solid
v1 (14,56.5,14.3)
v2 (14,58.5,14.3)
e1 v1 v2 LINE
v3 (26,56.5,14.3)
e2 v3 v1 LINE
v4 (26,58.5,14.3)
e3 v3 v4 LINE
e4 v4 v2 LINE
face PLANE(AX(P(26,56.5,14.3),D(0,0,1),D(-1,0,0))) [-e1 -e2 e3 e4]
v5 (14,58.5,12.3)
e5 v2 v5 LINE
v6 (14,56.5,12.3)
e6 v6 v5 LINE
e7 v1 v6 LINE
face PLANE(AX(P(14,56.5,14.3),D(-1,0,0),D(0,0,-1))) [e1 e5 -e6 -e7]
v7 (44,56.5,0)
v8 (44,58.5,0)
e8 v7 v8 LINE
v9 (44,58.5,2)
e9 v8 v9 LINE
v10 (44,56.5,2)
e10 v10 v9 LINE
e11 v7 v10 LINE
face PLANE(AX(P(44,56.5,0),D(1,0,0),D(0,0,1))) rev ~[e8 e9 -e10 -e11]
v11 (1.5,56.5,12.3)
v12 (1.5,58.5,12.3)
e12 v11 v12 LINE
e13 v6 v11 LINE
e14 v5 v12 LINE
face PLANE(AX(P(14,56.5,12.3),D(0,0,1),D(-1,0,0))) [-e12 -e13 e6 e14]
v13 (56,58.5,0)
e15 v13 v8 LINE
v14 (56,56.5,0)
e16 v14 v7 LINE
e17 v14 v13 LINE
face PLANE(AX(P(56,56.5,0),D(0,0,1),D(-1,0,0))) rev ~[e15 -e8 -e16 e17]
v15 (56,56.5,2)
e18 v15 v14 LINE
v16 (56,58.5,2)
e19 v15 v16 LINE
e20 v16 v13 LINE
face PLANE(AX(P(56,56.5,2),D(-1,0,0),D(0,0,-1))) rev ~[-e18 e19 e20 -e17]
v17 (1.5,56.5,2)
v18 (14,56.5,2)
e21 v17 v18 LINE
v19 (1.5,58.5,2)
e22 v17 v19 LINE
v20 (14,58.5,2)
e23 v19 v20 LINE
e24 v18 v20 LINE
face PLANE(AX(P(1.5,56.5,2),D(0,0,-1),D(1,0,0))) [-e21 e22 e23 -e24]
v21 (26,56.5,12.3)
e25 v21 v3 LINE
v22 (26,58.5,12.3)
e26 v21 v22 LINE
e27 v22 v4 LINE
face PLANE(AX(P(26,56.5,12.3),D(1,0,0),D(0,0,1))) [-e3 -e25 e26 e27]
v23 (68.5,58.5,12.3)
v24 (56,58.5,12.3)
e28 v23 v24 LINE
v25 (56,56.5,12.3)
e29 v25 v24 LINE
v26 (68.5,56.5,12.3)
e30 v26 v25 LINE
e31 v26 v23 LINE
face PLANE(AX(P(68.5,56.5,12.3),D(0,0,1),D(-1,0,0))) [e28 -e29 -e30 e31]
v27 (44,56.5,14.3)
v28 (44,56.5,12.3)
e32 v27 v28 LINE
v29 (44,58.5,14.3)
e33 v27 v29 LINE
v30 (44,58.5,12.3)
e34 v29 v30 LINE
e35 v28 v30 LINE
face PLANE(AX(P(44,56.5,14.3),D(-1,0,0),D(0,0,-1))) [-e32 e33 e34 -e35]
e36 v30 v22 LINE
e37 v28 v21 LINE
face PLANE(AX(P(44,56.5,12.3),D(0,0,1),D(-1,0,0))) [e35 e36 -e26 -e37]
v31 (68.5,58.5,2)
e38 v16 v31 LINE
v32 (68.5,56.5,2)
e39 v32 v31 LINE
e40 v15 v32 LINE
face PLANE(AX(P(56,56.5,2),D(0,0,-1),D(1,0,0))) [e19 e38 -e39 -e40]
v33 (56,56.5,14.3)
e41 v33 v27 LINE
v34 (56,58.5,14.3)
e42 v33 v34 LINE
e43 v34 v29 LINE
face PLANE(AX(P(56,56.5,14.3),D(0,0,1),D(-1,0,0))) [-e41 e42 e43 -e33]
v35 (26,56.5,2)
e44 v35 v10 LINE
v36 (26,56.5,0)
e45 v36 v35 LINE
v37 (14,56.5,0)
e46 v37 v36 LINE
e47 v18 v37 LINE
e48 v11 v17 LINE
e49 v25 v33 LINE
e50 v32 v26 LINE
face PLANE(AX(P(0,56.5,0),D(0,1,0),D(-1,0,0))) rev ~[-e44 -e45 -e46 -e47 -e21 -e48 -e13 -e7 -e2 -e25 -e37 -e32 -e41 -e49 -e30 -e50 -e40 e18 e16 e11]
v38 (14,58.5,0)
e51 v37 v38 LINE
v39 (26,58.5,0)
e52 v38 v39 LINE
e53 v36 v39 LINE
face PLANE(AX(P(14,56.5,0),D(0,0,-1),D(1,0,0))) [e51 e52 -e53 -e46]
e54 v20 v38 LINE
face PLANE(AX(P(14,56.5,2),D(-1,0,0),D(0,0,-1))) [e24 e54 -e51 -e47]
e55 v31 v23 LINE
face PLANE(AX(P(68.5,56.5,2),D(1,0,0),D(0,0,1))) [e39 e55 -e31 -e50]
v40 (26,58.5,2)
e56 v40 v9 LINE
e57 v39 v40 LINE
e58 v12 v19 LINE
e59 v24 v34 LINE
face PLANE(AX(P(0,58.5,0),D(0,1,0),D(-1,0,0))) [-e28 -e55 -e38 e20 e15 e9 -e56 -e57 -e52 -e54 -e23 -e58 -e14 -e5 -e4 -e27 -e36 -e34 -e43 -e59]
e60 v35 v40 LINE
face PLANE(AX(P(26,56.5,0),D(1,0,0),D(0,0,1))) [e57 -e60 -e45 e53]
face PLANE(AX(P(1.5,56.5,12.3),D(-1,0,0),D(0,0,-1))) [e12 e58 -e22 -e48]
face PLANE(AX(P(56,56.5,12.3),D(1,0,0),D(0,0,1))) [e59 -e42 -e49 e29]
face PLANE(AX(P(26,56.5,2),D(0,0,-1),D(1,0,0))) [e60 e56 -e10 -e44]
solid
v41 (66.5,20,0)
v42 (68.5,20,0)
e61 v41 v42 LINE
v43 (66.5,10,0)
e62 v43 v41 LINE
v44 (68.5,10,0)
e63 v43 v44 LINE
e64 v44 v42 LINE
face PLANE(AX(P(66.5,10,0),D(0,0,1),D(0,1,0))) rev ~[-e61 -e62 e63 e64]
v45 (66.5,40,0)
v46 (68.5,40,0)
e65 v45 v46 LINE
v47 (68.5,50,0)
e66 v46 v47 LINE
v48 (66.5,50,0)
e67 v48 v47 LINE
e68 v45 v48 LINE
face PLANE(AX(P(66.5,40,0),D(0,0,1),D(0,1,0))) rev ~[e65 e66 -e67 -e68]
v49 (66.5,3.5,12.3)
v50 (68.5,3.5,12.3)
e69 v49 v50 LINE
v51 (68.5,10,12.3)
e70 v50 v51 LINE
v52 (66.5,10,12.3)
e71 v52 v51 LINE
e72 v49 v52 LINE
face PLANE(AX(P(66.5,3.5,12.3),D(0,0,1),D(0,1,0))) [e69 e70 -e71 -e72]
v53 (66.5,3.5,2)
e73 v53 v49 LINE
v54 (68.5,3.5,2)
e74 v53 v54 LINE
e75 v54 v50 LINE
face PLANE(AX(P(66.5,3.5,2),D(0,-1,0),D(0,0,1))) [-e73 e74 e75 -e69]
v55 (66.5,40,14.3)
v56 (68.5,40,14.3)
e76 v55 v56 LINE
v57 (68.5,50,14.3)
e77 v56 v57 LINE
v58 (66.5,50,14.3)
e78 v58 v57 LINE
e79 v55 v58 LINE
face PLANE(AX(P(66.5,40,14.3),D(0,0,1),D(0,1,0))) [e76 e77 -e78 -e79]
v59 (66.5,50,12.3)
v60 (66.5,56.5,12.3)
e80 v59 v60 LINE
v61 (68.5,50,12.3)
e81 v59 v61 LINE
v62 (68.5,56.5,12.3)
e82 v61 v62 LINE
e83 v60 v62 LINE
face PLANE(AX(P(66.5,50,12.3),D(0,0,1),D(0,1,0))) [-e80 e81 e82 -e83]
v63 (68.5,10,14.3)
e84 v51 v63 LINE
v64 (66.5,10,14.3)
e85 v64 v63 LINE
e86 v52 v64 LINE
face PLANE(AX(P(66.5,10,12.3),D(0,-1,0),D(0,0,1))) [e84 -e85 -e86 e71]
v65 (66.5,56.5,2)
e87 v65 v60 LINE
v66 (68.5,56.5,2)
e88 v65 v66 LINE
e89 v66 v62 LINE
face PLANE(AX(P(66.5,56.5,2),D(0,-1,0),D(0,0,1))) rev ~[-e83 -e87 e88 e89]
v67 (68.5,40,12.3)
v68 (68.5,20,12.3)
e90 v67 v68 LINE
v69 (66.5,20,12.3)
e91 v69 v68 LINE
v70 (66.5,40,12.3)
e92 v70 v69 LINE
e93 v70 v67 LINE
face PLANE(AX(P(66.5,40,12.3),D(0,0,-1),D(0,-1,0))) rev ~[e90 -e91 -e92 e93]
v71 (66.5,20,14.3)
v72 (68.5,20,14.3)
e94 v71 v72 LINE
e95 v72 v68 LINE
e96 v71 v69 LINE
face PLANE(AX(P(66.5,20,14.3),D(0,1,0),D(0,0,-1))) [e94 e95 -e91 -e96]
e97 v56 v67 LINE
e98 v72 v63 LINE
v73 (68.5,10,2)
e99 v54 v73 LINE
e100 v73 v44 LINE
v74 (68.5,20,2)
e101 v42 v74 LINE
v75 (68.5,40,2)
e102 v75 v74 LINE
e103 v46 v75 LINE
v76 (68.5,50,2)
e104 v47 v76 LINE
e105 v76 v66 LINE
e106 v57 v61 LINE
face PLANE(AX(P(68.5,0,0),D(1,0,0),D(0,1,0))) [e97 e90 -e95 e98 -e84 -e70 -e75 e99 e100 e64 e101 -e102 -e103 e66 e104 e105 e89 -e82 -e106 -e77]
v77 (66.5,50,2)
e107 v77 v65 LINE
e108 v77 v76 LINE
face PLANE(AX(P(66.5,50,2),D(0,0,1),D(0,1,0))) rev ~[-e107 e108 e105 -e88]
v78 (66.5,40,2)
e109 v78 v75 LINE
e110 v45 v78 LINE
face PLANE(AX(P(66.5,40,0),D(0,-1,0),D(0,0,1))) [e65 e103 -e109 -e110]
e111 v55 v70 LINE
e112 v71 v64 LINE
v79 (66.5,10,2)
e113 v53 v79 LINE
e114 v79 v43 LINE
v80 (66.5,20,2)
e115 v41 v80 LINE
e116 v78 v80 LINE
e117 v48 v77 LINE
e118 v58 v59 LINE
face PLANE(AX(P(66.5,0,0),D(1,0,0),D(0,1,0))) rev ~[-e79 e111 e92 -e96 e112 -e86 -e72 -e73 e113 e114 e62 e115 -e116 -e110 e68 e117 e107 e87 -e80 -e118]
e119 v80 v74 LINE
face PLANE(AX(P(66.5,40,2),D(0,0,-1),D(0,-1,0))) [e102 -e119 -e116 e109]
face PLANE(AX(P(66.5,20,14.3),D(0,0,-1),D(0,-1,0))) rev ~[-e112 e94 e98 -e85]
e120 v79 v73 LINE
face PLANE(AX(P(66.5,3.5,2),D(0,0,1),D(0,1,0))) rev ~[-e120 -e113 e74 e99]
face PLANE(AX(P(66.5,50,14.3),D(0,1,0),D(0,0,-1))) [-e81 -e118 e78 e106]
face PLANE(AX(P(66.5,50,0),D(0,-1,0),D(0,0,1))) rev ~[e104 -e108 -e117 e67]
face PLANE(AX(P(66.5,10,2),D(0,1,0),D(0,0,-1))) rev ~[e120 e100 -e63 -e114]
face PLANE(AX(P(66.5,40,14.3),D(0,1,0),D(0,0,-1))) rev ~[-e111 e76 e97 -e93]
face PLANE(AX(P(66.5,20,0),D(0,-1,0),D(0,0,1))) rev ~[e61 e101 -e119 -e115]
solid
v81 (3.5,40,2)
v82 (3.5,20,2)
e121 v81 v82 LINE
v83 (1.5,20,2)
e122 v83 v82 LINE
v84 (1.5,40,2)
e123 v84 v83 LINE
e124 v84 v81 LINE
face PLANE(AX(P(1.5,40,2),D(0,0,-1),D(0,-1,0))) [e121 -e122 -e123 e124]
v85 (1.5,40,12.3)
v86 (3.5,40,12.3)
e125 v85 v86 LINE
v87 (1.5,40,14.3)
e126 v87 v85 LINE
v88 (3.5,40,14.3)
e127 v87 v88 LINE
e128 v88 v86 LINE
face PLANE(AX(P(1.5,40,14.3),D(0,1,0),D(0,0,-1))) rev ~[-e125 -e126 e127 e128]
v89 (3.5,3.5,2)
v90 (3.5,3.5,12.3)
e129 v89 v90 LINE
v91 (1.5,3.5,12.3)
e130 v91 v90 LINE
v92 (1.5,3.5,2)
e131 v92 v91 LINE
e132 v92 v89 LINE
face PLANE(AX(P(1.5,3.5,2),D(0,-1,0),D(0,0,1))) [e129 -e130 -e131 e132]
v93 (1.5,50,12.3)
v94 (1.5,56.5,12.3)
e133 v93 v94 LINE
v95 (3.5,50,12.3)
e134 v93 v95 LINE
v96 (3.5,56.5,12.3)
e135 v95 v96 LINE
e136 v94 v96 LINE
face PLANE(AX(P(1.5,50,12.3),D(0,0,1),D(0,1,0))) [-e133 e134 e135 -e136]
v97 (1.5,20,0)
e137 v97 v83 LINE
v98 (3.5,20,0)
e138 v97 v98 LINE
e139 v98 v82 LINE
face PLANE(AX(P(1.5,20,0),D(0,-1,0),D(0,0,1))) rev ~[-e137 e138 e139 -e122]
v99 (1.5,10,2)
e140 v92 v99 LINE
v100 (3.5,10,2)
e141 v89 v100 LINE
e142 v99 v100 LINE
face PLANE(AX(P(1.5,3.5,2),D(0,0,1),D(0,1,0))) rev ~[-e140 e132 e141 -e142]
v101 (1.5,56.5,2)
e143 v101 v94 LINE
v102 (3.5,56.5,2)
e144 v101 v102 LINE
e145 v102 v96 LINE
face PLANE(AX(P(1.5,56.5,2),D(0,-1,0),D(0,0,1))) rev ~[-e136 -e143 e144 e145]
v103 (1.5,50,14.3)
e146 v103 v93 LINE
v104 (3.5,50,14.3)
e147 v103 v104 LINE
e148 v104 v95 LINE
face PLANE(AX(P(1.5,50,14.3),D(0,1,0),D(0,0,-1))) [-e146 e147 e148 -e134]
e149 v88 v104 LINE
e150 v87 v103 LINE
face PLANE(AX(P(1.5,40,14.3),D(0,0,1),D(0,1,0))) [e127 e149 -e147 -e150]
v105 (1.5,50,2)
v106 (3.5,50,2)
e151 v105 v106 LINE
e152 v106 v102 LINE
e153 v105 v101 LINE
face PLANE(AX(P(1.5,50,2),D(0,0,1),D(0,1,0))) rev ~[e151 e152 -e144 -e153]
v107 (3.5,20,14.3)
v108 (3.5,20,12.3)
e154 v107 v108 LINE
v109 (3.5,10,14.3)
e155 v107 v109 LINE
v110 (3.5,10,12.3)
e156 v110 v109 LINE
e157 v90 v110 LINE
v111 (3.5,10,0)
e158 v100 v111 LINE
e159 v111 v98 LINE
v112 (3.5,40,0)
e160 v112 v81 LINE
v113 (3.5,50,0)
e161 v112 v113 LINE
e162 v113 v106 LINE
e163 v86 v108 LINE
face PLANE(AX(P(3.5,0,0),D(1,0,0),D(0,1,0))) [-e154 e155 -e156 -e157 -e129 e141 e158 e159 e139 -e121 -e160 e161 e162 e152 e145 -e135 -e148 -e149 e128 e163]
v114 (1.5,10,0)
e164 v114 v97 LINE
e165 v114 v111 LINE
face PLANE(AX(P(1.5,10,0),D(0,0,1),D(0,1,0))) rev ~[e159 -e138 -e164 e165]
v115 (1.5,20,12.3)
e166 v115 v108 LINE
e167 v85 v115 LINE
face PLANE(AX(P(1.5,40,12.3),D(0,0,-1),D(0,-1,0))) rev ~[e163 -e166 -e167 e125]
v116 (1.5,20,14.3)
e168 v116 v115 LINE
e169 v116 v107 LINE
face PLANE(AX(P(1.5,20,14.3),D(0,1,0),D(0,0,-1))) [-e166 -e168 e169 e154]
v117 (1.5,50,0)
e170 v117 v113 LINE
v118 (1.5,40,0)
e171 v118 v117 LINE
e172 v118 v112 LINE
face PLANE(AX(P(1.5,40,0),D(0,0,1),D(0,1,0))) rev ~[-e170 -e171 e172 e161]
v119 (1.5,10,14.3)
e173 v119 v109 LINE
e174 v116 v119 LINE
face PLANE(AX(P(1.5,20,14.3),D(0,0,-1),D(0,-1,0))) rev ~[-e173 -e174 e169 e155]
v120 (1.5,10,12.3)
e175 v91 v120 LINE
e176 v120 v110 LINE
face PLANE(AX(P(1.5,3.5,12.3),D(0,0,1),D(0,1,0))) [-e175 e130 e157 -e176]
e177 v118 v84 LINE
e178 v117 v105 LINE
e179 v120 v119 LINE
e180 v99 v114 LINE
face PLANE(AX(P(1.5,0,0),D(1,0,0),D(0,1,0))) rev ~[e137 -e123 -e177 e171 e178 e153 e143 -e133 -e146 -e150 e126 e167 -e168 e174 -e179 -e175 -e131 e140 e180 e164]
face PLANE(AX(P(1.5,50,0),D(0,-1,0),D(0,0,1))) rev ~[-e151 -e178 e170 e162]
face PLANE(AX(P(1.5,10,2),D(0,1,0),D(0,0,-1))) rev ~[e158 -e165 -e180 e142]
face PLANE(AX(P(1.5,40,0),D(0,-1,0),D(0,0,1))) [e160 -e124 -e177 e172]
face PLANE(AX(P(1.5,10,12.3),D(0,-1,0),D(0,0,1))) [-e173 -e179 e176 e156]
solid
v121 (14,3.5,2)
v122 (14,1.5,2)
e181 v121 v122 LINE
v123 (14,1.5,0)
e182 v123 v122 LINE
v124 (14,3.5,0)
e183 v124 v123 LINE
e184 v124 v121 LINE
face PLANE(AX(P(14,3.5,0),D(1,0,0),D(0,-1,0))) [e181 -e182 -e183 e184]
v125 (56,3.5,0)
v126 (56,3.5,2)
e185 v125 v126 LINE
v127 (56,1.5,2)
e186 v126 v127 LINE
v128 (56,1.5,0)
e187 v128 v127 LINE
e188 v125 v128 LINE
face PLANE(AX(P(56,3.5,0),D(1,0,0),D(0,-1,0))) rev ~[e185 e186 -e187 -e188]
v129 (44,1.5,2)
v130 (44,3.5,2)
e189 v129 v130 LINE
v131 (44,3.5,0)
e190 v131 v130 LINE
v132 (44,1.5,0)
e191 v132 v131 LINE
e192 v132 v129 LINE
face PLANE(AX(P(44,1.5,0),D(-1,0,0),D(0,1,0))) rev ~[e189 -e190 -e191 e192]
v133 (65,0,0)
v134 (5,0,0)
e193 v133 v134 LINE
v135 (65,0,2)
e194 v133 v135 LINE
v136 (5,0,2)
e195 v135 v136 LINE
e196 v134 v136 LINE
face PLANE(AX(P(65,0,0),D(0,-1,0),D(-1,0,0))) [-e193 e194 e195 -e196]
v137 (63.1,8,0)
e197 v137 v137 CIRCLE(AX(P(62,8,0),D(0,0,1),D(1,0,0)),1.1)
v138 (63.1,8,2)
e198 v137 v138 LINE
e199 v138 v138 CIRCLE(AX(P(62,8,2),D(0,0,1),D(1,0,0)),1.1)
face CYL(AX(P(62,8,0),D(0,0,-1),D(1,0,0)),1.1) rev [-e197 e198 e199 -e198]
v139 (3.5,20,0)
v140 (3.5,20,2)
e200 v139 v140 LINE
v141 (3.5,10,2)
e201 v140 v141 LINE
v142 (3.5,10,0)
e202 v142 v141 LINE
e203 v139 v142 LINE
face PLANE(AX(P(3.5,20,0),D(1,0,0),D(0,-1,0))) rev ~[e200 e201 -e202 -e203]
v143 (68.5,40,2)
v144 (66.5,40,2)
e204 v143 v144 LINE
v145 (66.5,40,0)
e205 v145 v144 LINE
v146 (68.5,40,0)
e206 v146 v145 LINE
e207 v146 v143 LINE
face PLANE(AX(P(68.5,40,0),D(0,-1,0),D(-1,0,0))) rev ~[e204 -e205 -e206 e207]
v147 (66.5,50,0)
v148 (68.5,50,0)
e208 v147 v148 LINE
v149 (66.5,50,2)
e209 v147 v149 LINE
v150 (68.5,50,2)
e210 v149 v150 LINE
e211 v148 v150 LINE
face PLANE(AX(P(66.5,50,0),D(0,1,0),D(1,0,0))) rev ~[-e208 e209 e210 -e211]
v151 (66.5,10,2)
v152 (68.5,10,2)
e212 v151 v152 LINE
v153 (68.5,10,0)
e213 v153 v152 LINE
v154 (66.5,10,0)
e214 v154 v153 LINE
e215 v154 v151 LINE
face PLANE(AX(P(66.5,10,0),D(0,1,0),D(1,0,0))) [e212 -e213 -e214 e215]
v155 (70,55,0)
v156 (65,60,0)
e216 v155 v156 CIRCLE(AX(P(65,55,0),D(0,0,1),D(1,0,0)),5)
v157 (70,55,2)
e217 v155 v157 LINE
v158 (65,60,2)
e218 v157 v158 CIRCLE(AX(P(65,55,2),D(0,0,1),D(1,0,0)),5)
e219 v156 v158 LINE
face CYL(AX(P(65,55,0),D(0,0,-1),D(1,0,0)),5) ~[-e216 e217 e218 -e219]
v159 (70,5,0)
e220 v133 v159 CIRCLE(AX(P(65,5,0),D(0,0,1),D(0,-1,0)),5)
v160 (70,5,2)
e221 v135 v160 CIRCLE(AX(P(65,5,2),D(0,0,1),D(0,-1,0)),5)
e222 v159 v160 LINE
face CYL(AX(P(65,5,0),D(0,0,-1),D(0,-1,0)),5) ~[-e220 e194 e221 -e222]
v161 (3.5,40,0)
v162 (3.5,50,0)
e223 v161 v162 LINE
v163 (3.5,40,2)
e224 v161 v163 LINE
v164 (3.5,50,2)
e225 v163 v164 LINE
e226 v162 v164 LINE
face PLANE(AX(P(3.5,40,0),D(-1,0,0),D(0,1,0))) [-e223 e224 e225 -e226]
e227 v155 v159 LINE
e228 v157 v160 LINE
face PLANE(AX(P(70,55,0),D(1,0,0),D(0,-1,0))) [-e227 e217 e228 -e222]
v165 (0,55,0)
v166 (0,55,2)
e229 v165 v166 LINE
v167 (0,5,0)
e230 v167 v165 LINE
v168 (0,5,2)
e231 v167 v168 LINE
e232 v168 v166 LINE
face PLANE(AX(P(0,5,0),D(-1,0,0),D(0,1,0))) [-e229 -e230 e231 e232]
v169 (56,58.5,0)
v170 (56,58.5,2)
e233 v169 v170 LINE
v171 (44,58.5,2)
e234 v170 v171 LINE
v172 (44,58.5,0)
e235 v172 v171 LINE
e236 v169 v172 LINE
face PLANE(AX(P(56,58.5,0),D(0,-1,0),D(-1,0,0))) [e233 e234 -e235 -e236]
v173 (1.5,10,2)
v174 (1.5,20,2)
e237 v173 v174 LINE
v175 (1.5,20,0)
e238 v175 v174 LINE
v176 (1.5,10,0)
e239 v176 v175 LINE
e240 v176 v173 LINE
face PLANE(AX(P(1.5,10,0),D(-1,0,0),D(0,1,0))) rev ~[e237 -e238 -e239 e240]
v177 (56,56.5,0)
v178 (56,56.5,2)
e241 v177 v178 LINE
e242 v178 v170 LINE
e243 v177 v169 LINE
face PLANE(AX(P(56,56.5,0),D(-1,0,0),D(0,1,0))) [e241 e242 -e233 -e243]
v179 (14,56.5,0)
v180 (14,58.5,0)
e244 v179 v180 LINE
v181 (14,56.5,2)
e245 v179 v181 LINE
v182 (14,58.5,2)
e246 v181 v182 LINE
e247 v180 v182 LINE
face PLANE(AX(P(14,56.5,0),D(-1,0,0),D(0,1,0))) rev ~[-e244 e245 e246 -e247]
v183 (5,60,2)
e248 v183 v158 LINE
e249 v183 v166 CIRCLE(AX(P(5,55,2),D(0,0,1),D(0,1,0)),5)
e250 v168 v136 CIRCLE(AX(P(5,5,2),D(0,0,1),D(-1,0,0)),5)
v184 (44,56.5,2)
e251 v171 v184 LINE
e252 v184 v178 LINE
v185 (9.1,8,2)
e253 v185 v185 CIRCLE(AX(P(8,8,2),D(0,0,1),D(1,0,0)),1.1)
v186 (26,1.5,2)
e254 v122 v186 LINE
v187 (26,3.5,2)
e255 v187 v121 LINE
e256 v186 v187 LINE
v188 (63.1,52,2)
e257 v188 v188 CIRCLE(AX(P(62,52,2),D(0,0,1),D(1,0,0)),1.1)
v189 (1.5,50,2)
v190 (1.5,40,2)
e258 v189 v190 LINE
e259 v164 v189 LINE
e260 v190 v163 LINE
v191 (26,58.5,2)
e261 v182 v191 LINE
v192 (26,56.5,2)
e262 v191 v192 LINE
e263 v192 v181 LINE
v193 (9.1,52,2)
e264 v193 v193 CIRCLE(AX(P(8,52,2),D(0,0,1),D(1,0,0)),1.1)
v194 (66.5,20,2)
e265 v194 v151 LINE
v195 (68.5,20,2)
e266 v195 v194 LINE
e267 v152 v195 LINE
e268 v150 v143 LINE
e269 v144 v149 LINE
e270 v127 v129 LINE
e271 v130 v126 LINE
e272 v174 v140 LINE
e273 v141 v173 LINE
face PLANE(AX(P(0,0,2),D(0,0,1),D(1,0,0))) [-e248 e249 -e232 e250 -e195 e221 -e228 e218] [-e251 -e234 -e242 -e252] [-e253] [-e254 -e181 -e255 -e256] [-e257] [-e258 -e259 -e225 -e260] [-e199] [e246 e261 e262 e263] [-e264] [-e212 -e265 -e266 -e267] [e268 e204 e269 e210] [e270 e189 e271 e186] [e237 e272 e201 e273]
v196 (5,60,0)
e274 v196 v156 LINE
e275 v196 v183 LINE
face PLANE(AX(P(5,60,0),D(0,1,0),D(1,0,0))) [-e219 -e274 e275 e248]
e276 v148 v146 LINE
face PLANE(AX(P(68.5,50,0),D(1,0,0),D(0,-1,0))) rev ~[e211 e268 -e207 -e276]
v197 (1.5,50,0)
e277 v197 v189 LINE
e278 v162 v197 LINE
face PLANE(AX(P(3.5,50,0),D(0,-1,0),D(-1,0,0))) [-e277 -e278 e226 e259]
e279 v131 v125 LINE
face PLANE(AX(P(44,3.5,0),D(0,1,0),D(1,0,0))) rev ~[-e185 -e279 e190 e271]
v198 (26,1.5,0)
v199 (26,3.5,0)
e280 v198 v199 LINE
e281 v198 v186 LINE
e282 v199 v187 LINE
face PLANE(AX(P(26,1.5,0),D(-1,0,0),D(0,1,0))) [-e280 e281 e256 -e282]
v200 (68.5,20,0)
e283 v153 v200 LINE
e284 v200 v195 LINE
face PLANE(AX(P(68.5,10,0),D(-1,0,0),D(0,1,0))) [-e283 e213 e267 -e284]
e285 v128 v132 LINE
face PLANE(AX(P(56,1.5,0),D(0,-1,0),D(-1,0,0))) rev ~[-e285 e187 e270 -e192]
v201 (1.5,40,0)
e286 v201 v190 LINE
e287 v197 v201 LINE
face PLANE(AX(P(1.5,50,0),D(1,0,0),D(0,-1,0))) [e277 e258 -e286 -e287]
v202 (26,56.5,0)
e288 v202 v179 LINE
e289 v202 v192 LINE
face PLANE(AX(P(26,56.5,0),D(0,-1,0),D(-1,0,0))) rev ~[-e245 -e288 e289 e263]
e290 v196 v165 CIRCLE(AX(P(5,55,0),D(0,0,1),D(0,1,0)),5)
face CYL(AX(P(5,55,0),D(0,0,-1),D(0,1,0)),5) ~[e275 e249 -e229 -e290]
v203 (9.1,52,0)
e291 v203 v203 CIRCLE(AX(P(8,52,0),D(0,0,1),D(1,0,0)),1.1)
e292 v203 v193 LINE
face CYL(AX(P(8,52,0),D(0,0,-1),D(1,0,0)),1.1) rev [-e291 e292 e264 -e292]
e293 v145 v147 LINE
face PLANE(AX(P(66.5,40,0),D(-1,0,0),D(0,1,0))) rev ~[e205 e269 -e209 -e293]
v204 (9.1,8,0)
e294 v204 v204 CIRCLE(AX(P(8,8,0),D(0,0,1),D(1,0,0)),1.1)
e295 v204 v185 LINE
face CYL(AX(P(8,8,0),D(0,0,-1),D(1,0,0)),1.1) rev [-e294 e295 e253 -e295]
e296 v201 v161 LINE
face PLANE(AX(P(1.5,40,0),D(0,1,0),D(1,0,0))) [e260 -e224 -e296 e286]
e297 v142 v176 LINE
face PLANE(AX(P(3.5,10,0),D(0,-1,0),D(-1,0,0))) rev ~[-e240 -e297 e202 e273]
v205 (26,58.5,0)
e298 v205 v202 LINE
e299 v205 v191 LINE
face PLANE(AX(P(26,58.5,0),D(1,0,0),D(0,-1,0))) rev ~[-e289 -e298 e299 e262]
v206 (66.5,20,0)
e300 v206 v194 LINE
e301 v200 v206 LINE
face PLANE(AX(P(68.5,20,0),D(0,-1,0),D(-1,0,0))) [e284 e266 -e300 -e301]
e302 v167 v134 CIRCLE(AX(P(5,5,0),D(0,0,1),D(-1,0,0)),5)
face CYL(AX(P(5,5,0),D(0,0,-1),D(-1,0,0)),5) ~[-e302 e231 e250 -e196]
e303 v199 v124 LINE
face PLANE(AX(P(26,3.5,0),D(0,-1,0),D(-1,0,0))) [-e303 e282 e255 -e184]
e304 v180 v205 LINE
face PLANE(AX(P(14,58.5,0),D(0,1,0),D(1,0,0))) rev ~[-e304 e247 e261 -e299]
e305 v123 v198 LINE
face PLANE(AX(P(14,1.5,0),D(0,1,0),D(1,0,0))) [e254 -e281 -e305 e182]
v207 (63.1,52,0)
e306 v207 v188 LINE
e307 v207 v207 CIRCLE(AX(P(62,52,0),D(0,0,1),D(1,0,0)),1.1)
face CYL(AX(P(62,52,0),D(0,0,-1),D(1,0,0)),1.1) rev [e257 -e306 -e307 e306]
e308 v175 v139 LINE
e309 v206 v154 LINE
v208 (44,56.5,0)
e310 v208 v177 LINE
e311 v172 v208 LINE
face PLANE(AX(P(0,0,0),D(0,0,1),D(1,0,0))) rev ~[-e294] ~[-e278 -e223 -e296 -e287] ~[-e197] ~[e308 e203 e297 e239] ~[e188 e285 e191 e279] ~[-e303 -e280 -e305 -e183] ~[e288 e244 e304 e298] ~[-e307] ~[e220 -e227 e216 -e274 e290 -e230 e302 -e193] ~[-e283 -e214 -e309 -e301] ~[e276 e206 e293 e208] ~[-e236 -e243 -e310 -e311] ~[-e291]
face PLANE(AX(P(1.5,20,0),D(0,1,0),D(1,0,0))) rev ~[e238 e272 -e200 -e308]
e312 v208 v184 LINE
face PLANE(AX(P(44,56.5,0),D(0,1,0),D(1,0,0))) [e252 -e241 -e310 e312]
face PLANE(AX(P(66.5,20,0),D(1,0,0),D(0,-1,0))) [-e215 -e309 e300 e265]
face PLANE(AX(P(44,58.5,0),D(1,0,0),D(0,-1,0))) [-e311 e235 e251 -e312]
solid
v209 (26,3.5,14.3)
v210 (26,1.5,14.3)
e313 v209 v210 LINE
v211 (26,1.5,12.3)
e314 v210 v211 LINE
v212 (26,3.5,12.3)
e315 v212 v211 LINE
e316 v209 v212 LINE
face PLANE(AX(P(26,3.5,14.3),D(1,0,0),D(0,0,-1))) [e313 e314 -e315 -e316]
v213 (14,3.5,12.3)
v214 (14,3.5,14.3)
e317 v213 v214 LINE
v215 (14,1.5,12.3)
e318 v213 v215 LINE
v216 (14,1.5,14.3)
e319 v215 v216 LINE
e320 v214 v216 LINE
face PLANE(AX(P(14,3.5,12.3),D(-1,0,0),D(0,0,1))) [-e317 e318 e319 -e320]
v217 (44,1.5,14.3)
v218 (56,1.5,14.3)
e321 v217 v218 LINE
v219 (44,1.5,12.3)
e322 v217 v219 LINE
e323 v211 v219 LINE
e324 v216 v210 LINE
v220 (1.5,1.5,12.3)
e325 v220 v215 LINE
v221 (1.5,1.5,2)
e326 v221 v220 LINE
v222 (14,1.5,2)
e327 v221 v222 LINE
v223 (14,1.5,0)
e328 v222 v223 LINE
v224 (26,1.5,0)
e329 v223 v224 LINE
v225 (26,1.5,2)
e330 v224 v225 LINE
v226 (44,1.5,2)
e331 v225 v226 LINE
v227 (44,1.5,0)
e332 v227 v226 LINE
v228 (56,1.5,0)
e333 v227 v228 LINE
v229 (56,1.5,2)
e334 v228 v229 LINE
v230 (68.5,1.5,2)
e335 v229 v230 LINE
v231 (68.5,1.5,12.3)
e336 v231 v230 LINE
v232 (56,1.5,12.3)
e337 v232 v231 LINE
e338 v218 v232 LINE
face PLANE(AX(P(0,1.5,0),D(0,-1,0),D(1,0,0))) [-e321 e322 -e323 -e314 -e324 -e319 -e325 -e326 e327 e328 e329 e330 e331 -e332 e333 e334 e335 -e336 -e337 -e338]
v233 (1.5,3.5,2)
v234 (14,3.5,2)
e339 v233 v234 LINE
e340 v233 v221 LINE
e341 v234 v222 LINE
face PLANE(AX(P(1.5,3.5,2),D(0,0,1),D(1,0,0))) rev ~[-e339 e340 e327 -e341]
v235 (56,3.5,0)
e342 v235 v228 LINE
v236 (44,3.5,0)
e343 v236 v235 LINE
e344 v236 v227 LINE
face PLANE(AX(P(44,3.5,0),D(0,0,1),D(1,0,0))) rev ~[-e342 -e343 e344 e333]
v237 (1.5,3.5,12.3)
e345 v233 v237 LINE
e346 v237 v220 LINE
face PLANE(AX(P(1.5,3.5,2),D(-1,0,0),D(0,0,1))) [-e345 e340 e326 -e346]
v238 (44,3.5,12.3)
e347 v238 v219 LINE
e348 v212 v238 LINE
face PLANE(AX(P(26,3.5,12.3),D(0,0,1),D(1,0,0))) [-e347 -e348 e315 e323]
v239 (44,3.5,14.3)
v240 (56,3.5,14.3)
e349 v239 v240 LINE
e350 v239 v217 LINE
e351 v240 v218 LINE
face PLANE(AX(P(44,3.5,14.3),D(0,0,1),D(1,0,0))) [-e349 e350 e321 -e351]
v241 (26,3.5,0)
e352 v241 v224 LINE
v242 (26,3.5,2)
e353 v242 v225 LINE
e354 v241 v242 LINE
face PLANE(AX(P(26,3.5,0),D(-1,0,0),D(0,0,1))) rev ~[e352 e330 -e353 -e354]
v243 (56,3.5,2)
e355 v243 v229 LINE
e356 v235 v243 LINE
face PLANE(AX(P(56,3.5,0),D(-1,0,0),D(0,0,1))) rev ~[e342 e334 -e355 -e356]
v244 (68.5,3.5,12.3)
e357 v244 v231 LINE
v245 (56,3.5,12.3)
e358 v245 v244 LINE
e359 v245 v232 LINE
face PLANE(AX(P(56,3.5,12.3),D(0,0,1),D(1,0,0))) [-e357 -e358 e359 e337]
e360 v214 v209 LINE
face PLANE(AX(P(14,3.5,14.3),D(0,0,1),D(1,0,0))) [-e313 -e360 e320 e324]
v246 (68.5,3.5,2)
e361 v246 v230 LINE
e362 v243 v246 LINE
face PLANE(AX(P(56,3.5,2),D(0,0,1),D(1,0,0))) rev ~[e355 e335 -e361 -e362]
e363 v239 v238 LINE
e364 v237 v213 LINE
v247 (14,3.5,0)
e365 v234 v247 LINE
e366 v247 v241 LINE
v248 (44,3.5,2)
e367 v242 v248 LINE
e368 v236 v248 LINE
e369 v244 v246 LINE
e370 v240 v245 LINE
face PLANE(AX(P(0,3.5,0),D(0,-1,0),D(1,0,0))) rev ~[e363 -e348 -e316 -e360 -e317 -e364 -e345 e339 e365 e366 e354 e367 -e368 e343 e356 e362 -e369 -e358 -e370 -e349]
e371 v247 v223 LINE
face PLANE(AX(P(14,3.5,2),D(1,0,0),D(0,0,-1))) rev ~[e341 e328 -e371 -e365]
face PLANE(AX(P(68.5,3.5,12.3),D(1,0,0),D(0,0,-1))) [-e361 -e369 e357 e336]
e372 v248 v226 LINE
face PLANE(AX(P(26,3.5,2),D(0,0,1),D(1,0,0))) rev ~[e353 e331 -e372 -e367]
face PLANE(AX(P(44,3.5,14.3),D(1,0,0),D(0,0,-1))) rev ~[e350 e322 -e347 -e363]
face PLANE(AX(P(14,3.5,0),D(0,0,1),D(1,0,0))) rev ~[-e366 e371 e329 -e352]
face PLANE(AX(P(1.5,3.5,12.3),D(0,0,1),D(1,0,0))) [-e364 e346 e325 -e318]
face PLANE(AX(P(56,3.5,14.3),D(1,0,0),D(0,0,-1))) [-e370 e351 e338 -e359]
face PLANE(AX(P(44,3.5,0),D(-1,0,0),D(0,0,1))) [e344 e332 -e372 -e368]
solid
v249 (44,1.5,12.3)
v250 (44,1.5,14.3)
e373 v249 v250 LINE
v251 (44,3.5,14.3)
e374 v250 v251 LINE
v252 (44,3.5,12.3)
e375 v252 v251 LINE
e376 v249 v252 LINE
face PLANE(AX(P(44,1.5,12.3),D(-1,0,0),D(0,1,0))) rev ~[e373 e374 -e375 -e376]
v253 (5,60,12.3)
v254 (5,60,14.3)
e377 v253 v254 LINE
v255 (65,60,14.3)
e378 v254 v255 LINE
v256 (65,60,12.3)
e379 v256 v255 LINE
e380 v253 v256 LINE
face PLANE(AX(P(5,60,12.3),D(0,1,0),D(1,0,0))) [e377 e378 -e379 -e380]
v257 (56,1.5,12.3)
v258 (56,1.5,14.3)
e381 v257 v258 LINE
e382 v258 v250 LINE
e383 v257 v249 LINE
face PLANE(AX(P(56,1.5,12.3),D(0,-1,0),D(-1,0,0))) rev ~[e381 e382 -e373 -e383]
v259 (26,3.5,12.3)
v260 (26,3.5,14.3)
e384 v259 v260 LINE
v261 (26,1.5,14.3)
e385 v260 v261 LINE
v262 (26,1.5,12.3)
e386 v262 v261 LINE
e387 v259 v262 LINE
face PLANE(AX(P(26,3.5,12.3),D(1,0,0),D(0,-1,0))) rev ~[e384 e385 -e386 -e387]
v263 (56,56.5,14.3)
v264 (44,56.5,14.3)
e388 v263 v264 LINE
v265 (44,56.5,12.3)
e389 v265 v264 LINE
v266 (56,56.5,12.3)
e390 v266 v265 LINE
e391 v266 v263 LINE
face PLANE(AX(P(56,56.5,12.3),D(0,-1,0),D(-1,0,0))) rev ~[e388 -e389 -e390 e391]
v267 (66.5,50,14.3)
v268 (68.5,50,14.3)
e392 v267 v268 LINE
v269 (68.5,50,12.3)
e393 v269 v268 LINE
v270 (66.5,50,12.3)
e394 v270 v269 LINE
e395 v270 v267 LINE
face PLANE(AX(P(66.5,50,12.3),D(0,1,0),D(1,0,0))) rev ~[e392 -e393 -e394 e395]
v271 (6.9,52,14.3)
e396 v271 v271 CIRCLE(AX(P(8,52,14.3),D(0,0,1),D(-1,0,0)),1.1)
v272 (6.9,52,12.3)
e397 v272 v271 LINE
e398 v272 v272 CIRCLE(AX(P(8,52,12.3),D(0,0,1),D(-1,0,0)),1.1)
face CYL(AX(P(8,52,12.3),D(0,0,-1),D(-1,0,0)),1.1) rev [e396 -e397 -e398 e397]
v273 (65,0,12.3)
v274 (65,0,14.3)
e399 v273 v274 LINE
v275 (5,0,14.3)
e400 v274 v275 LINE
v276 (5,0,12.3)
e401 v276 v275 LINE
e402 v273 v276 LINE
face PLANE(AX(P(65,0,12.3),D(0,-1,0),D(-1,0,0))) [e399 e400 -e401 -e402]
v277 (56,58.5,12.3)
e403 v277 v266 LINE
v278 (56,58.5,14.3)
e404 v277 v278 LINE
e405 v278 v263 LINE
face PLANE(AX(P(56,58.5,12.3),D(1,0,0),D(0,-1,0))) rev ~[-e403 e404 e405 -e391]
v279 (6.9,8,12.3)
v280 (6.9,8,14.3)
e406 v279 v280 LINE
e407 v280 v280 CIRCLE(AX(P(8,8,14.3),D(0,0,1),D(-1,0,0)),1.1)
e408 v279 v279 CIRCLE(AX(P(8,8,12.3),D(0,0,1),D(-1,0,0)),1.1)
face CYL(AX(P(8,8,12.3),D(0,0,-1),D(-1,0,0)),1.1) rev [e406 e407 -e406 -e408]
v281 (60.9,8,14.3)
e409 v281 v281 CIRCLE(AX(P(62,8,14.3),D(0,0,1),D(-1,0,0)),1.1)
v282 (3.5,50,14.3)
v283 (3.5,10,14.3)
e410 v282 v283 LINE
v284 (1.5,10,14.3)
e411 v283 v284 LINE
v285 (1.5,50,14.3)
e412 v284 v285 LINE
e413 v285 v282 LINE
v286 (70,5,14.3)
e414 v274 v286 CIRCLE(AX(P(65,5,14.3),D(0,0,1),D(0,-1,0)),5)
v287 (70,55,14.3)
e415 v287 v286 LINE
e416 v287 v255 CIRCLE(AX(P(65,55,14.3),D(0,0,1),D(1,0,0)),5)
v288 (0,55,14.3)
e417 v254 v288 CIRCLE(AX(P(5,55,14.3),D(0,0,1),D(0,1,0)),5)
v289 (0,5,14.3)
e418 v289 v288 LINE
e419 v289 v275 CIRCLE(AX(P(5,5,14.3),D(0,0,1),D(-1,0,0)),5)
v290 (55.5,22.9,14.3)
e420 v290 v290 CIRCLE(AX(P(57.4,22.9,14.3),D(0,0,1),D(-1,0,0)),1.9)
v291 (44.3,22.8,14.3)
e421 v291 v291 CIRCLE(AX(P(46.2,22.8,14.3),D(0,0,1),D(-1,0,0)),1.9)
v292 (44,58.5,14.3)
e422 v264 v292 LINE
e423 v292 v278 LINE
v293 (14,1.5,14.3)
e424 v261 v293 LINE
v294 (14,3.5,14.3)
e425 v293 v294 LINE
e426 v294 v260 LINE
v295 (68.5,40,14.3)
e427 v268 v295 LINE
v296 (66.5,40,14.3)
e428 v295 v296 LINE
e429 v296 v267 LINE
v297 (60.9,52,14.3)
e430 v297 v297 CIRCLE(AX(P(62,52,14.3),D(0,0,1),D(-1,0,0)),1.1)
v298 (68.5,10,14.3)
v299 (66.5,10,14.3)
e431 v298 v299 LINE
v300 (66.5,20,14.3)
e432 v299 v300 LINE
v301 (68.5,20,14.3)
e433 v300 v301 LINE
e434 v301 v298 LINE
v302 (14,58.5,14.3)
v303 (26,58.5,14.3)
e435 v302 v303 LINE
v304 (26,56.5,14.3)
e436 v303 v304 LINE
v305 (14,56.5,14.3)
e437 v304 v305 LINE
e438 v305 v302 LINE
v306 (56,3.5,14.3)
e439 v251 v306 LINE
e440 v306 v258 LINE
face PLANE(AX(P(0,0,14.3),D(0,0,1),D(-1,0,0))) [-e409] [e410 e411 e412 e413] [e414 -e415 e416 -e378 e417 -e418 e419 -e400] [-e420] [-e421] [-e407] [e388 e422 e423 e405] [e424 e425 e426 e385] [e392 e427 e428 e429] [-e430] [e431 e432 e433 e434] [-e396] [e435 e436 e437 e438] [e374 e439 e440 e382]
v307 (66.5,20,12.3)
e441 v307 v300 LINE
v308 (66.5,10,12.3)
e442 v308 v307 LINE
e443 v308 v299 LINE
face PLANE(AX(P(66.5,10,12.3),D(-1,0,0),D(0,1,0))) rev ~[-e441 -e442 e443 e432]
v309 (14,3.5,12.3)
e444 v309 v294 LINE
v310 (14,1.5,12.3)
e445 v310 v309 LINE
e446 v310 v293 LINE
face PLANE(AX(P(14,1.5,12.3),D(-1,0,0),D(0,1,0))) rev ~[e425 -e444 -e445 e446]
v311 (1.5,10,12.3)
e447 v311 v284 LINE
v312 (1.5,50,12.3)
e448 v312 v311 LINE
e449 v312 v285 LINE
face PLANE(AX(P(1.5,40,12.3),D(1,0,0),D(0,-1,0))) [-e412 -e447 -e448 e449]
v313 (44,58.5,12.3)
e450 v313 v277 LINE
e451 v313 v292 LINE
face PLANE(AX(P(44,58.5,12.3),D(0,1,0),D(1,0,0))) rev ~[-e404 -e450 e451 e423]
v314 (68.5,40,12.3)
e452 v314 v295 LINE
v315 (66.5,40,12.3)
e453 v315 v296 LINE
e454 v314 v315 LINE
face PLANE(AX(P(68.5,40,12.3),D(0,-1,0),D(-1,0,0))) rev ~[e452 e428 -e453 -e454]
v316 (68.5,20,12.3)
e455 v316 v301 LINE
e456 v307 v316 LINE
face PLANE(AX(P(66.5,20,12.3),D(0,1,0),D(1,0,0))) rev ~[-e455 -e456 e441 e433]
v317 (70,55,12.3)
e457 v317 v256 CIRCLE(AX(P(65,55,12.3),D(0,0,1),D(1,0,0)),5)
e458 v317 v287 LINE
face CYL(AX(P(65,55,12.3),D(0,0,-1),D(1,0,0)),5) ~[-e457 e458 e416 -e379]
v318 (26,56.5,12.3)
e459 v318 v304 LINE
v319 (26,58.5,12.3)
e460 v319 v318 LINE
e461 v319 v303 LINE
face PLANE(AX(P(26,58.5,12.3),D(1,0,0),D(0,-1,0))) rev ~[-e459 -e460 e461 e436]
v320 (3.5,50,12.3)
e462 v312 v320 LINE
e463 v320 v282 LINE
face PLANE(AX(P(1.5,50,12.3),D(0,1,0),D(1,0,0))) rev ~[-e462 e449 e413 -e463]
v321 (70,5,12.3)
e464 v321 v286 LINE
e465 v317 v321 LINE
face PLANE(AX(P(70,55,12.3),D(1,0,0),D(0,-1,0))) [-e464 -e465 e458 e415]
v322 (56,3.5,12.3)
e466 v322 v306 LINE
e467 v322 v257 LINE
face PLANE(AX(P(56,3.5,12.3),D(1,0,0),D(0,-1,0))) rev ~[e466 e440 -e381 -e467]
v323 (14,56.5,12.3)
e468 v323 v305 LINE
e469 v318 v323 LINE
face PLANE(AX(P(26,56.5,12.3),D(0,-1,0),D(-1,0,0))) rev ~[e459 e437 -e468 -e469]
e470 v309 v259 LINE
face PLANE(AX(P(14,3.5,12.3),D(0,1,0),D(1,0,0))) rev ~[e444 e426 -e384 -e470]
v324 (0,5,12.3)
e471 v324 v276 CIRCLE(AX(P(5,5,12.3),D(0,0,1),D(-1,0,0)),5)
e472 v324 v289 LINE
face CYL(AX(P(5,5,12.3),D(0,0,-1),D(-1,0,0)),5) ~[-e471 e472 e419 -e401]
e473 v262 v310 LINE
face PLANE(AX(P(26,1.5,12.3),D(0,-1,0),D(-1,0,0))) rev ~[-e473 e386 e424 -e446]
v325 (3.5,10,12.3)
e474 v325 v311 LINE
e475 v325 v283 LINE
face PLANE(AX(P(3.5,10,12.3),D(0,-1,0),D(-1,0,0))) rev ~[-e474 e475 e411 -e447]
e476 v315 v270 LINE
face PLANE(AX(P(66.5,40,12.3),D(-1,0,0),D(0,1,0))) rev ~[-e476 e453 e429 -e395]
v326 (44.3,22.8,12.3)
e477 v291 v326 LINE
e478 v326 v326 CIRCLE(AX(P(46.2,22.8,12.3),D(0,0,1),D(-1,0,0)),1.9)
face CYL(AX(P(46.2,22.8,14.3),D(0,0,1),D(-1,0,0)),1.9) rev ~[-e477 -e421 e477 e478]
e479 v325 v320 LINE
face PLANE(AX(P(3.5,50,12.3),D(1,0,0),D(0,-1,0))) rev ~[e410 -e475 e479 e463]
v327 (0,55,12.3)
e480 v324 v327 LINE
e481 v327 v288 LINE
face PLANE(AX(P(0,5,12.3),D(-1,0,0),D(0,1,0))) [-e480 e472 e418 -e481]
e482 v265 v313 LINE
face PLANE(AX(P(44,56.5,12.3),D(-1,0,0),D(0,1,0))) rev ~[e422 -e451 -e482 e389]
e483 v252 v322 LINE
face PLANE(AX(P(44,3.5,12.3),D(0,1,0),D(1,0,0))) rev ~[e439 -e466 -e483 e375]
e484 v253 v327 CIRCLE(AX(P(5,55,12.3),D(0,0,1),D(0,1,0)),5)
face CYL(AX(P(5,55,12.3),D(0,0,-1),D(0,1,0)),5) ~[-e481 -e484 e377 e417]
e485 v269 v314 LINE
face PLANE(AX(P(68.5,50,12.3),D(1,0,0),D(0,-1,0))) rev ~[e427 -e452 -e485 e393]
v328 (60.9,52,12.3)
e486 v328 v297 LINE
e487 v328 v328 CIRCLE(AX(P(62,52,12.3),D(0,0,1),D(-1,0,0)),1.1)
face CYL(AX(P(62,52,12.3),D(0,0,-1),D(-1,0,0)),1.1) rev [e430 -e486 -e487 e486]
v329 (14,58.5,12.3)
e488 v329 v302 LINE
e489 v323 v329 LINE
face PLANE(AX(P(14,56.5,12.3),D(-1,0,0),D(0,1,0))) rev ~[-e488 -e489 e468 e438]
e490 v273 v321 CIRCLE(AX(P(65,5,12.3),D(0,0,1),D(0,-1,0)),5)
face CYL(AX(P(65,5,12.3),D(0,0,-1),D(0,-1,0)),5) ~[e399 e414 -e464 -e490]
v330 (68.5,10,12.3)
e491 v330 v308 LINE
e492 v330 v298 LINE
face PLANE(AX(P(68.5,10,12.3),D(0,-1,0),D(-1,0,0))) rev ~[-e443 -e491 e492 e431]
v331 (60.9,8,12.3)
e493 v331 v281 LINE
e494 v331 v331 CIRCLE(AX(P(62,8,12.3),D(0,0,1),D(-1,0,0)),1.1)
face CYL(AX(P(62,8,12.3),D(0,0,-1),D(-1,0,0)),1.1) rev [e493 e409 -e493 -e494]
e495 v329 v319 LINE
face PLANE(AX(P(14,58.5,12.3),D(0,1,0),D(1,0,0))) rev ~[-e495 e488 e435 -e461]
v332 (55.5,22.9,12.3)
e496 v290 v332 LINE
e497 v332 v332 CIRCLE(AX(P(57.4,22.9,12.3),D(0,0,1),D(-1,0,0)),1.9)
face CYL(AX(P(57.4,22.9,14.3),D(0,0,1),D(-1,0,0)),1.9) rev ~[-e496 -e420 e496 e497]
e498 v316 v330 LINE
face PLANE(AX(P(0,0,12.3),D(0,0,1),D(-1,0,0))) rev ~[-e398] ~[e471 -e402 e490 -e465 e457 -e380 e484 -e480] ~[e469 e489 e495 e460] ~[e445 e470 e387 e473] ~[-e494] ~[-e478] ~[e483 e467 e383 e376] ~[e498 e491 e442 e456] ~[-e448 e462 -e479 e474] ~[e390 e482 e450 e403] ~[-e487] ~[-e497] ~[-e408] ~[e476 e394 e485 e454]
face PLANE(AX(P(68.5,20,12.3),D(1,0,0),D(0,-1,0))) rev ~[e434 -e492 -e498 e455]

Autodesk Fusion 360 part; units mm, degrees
sketch "Sketch1" plane through (0, 0, 0) normal (0, 0, 1) x (1, 0, 0) in component "Bottom"
  line L0 (5, 60) -> (65, 60)
  line L1 (70, 55) -> (70, 5)
  line L2 (65, 0) -> (5, 0)
  line L3 (0, 5) -> (0, 55)
  circle A0 centre (62, 52) radius 1.1
  line L4 (35, 60) -> (35, 0) construction
  line L5 (0, 30) -> (70, 30) construction
  circle A1 centre (8, 52) radius 1.1
  circle A2 centre (8, 8) radius 1.1
  circle A3 centre (62, 8) radius 1.1
  arc A4 (5, 60) -> (0, 55) centre (5, 55) ccw
  arc A5 (70, 55) -> (65, 60) centre (65, 55) ccw
  arc A6 (65, 0) -> (70, 5) centre (65, 5) ccw
  arc A7 (0, 5) -> (5, 0) centre (5, 5) ccw
  line L6 (5, 55) -> (65, 55) construction
  line L7 (5, 5) -> (5, 55) construction
  line L8 (65, 5) -> (5, 5) construction
  line L9 (65, 55) -> (65, 5) construction
  line L10 (66.5, 50) -> (68.5, 50)
  line L11 (68.5, 50) -> (68.5, 40)
  line L12 (68.5, 40) -> (66.5, 40)
  line L13 (66.5, 40) -> (66.5, 50)
  line L14 (70, 45) -> (0, 45) construction
  line L15 (70, 15) -> (0, 15) construction
  line L16 (3.5, 40) -> (3.5, 50)
  line L17 (3.5, 50) -> (1.5, 50)
  line L18 (1.5, 50) -> (1.5, 40)
  line L19 (1.5, 40) -> (3.5, 40)
  line L20 (1.5, 10) -> (1.5, 20)
  line L21 (3.5, 10) -> (1.5, 10)
  line L22 (3.5, 20) -> (3.5, 10)
  line L23 (1.5, 20) -> (3.5, 20)
  line L24 (66.5, 10) -> (68.5, 10)
  line L25 (66.5, 20) -> (66.5, 10)
  line L26 (68.5, 10) -> (68.5, 20)
  line L27 (68.5, 20) -> (66.5, 20)
  line L28 (20, 60) -> (20, 0) construction
  line L29 (14, 58.5) -> (26, 58.5)
  line L30 (26, 58.5) -> (26, 56.5)
  line L31 (26, 56.5) -> (14, 56.5)
  line L32 (14, 56.5) -> (14, 58.5)
  line L33 (50, 60) -> (50, 0) construction
  line L34 (56, 58.5) -> (44, 58.5)
  line L35 (56, 56.5) -> (56, 58.5)
  line L36 (44, 56.5) -> (56, 56.5)
  line L37 (44, 58.5) -> (44, 56.5)
  line L38 (14, 1.5) -> (26, 1.5)
  line L39 (14, 3.5) -> (14, 1.5)
  line L40 (26, 3.5) -> (14, 3.5)
  line L41 (26, 1.5) -> (26, 3.5)
  line L42 (56, 3.5) -> (56, 1.5)
  line L43 (56, 1.5) -> (44, 1.5)
  line L44 (44, 1.5) -> (44, 3.5)
  line L45 (44, 3.5) -> (56, 3.5)
  point P0 (0, 60)
  point P1 (70, 60)
  point P2 (70, 0)
  dimension "d4" = 70
  dimension "d5" = 60
  dimension "d6" = 2.2
  dimension "d7" = 8
  dimension "d8" = 8
  dimension "d9" = 5
  dimension "d10" = 5
  dimension "d16" = 2
  dimension "d17" = 10
  dimension "d19" = 1.5
  dimension "d20" = 15
  dimension "d22" = 5
  dimension "d23" = 15
  dimension "d24" = 12
  dimension "d25" = 2
  dimension "d26" = 1.5
  dimension "d27" = 6
extrude "Extrude2" add sketch "Sketch1" along normal blind 2 makes body 1 in component "Bottom"
sketch "Sketch1 (2)" plane through (1.5, 0, 0) normal (1, 0, 0) x (0, 1, 0) in component "Left"
  line L0 (10, 0) -> (20, 0)
  line L1 (20, 0) -> (20, 2)
  line L2 (10, 2) -> (10, 0)
  line L3 (10, 0) -> (10, 2)
  line L4 (40, 0) -> (40, 2)
  line L5 (20, 0) -> (20, 2)
  line L6 (50, 0) -> (50, 2)
  line L7 (3.5, 0) -> (3.5, 2) construction
  line L8 (56.5, 0) -> (56.5, 2) construction
  line L9 (20, 0) -> (10, 0)
  line L10 (40, 0) -> (50, 0)
  line L11 (40, 2) -> (20, 2)
  line L12 (50, 2) -> (56.5, 2)
  line L13 (3.5, 2) -> (10, 2)
  line L14 (56.5, 2) -> (56.5, 12.3)
  line L15 (3.5, 2) -> (3.5, 12.3)
  line L16 (56.5, 7.15) -> (3.5, 7.15) construction
  line L17 (3.5, 12.3) -> (10, 12.3)
  line L18 (10, 12.3) -> (10, 14.3)
  line L19 (20, 14.3) -> (10, 14.3)
  line L20 (20, 14.3) -> (20, 12.3)
  line L21 (40, 12.3) -> (20, 12.3)
  line L22 (40, 14.3) -> (40, 12.3)
  line L23 (40, 14.3) -> (50, 14.3)
  line L24 (50, 14.3) -> (50, 12.3)
  line L25 (50, 12.3) -> (56.5, 12.3)
  dimension "d30" = 10.3
extrude "Extrude1" add sketch "Sketch1 (2)" along normal blind 2 separate body makes body 2 in component "Left"
sketch "Sketch1 (3)" plane through (66.5, 0, 0) normal (1, 0, 0) x (0, 1, 0) in component "Right"
  line L0 (10, 0) -> (20, 0)
  line L1 (20, 0) -> (20, 2)
  line L2 (10, 2) -> (10, 0)
  line L3 (40, 14.3) -> (50, 14.3)
  line L4 (50, 14.3) -> (50, 12.3)
  line L5 (50, 12.3) -> (56.5, 12.3)
  line L6 (56.5, 2) -> (56.5, 12.3)
  line L7 (50, 2) -> (56.5, 2)
  line L8 (50, 0) -> (50, 2)
  line L9 (40, 0) -> (50, 0)
  line L10 (40, 0) -> (40, 2)
  line L11 (40, 2) -> (20, 2)
  line L12 (20, 0) -> (20, 2)
  line L13 (20, 0) -> (10, 0)
  line L14 (10, 0) -> (10, 2)
  line L15 (3.5, 2) -> (10, 2)
  line L16 (3.5, 2) -> (3.5, 12.3)
  line L17 (3.5, 12.3) -> (10, 12.3)
  line L18 (10, 12.3) -> (10, 14.3)
  line L19 (20, 14.3) -> (10, 14.3)
  line L20 (20, 14.3) -> (20, 12.3)
  line L21 (40, 12.3) -> (20, 12.3)
  line L22 (40, 14.3) -> (40, 12.3)
extrude "Extrude1'" add sketch "Sketch1 (3)" along normal blind 2 separate body makes body 3 in component "Right"
sketch "Sketch1 (4)" plane through (0, 3.5, 0) normal (0, -1, 0) x (1, 0, 0) in component "Front"
  line L0 (14, 0) -> (26, 0)
  line L1 (26, 0) -> (26, 2)
  line L2 (14, 2) -> (14, 0)
  line L3 (1.5, 2) -> (1.5, 12.3)
  line L4 (68.5, 12.3) -> (68.5, 2)
  line L5 (26, 0) -> (26, 2)
  line L6 (56, 0) -> (56, 2)
  line L7 (14, 0) -> (14, 2)
  line L8 (44, 0) -> (44, 2)
  line L9 (1.5, 2) -> (14, 2)
  line L10 (14, 0) -> (26, 0)
  line L11 (26, 2) -> (44, 2)
  line L12 (44, 0) -> (56, 0)
  line L13 (56, 2) -> (68.5, 2)
  line L14 (68.5, 7.15) -> (1.5, 7.15) construction
  line L15 (1.5, 12.3) -> (14, 12.3)
  line L16 (14, 12.3) -> (14, 14.3)
  line L17 (14, 14.3) -> (26, 14.3)
  line L18 (26, 14.3) -> (26, 12.3)
  line L19 (26, 12.3) -> (44, 12.3)
  line L20 (44, 14.3) -> (44, 12.3)
  line L21 (44, 14.3) -> (56, 14.3)
  line L22 (56, 14.3) -> (56, 12.3)
  line L23 (56, 12.3) -> (68.5, 12.3)
  point P0 (44, 2)
extrude "Extrude1''" add sketch "Sketch1 (4)" along normal blind 2 separate body makes body 4 in component "Front"
sketch "Sketch2" plane through (0, 56.5, 0) normal (0, 1, 0) x (-1, 0, 0) in component "Back"
  line L0 (-56, 0) -> (-44, 0)
  line L1 (-44, 0) -> (-44, 2)
  line L2 (-56, 2) -> (-56, 0)
  line L3 (-56, 14.3) -> (-44, 14.3)
  line L4 (-56, 12.3) -> (-56, 14.3)
  line L5 (-68.5, 12.3) -> (-56, 12.3)
  line L6 (-68.5, 2) -> (-68.5, 12.3)
  line L7 (-56, 2) -> (-68.5, 2)
  line L8 (-56, 0) -> (-56, 2)
  line L9 (-44, 0) -> (-56, 0)
  line L10 (-44, 2) -> (-44, 0)
  line L11 (-26, 2) -> (-44, 2)
  line L12 (-26, 0) -> (-26, 2)
  line L13 (-14, 0) -> (-26, 0)
  line L14 (-14, 2) -> (-14, 0)
  line L15 (-1.5, 2) -> (-14, 2)
  line L16 (-1.5, 12.3) -> (-1.5, 2)
  line L17 (-14, 12.3) -> (-1.5, 12.3)
  line L18 (-14, 14.3) -> (-14, 12.3)
  line L19 (-26, 14.3) -> (-14, 14.3)
  line L20 (-26, 12.3) -> (-26, 14.3)
  line L21 (-44, 12.3) -> (-26, 12.3)
  line L22 (-44, 14.3) -> (-44, 12.3)
extrude "Extrude2'" add sketch "Sketch2" along normal blind 2 separate body makes body 5 in component "Back"
sketch "Sketch1 (5)" plane through (0, 0, 12.3) normal (0, 0, 1) x (-1, 0, 0) in component "Top"
  line L0 (-1.5, -40) -> (-1.5, -20)
  line L1 (-1.5, -20) -> (-3.5, -20)
  line L2 (-3.5, -20) -> (-3.5, -40)
  line L3 (-3.5, -40) -> (-1.5, -40)
  circle A0 centre (-8, -52) radius 1.1
  circle A1 centre (-62, -52) radius 1.1
  line L4 (-56, -1.5) -> (-44, -1.5)
  line L5 (-56, -3.5) -> (-56, -1.5)
  line L6 (-44, -3.5) -> (-56, -3.5)
  line L7 (-44, -1.5) -> (-44, -3.5)
  line L8 (-14, -3.5) -> (-26, -3.5)
  line L9 (-14, -1.5) -> (-14, -3.5)
  line L10 (-26, -1.5) -> (-14, -1.5)
  line L11 (-26, -3.5) -> (-26, -1.5)
  line L12 (-56, -56.5) -> (-44, -56.5)
  line L13 (-56, -58.5) -> (-56, -56.5)
  line L14 (-44, -58.5) -> (-56, -58.5)
  line L15 (-44, -56.5) -> (-44, -58.5)
  line L16 (-26, -58.5) -> (-26, -56.5)
  line L17 (-14, -58.5) -> (-26, -58.5)
  line L18 (-14, -56.5) -> (-14, -58.5)
  line L19 (-26, -56.5) -> (-14, -56.5)
  line L20 (-66.5, -10) -> (-66.5, -20)
  line L21 (-68.5, -10) -> (-66.5, -10)
  line L22 (-68.5, -20) -> (-68.5, -10)
  line L23 (-66.5, -20) -> (-68.5, -20)
  line L24 (-3.5, -10) -> (-1.5, -10)
  line L25 (-3.5, -20) -> (-3.5, -10)
  line L26 (-1.5, -20) -> (-3.5, -20)
  line L27 (-1.5, -10) -> (-1.5, -20)
  line L28 (-3.5, -50) -> (-3.5, -40)
  line L29 (-1.5, -50) -> (-3.5, -50)
  line L30 (-1.5, -40) -> (-1.5, -50)
  line L31 (-3.5, -40) -> (-1.5, -40)
  line L32 (-68.5, -50) -> (-68.5, -40)
  line L33 (-66.5, -50) -> (-68.5, -50)
  line L34 (-66.5, -40) -> (-66.5, -50)
  line L35 (-68.5, -40) -> (-66.5, -40)
  circle A2 centre (-62, -8) radius 1.1
  circle A3 centre (-8, -8) radius 1.1
  line L36 (-5, -60) -> (-65, -60)
  arc A4 (-70, -55) -> (-65, -60) centre (-65, -55) ccw
  line L37 (-70, -55) -> (-70, -5)
  arc A5 (-65, 0) -> (-70, -5) centre (-65, -5) ccw
  line L38 (-65, 0) -> (-5, 0)
  arc A6 (0, -5) -> (-5, 0) centre (-5, -5) ccw
  line L39 (0, -5) -> (0, -55)
  arc A7 (-5, -60) -> (0, -55) centre (-5, -55) ccw
extrude "Extrude1'''" add sketch "Sketch1 (5)" along normal blind 2 separate body makes body 6 in component "Top"
sketch "Sketch2 (2)" plane through (0, 0, 14.3) normal (0, 0, 1) x (-1, 0, 0) in component "Top"
  circle A0 centre (-8, -8) radius 1.1
  line L0 (-68.5, -50) -> (-68.5, -40)
  line L1 (-68.5, -40) -> (-66.5, -40)
  line L2 (-66.5, -40) -> (-66.5, -50)
  line L3 (-66.5, -50) -> (-68.5, -50)
  circle A1 centre (-8, -52) radius 1.1
  line L4 (-3.5, -50) -> (-3.5, -10)
  line L5 (-3.5, -10) -> (-1.5, -10)
  line L6 (-1.5, -10) -> (-1.5, -50)
  line L7 (-1.5, -50) -> (-3.5, -50)
  line L8 (-66.5, -10) -> (-66.5, -20)
  line L9 (-66.5, -20) -> (-68.5, -20)
  line L10 (-68.5, -20) -> (-68.5, -10)
  line L11 (-68.5, -10) -> (-66.5, -10)
  circle A2 centre (-62, -8) radius 1.1
  line L12 (-26, -58.5) -> (-26, -56.5)
  line L13 (-26, -56.5) -> (-14, -56.5)
  line L14 (-14, -56.5) -> (-14, -58.5)
  line L15 (-14, -58.5) -> (-26, -58.5)
  line L16 (-56, -56.5) -> (-44, -56.5)
  line L17 (-44, -56.5) -> (-44, -58.5)
  line L18 (-44, -58.5) -> (-56, -58.5)
  line L19 (-56, -58.5) -> (-56, -56.5)
  line L20 (-14, -3.5) -> (-26, -3.5)
  line L21 (-26, -3.5) -> (-26, -1.5)
  line L22 (-26, -1.5) -> (-14, -1.5)
  line L23 (-14, -1.5) -> (-14, -3.5)
  circle A3 centre (-62, -52) radius 1.1
  line L24 (-56, -1.5) -> (-44, -1.5)
  line L25 (-44, -1.5) -> (-44, -3.5)
  line L26 (-44, -3.5) -> (-56, -3.5)
  line L27 (-56, -3.5) -> (-56, -1.5)
  arc A4 (-70, -55) -> (-65, -60) centre (-65, -55) ccw
  line L28 (-65, -60) -> (-5, -60)
  arc A5 (-5, -60) -> (0, -55) centre (-5, -55) ccw
  line L29 (0, -55) -> (0, -5)
  arc A6 (0, -5) -> (-5, 0) centre (-5, -5) ccw
  line L30 (-5, 0) -> (-65, 0)
  arc A7 (-65, 0) -> (-70, -5) centre (-65, -5) ccw
  line L31 (-70, -5) -> (-70, -55)
  circle A8 centre (-46.2, -22.8) radius 1.9
  circle A9 centre (-57.4, -22.9) radius 1.9
  dimension "d50" = 3.8
  dimension "d51" = 3.8
extrude "Extrude2''" cut sketch "Sketch2 (2)" against normal up to surface (2 mm away) contours A8 | A9 bodies 6 in component "Top"
component "Bottom" placed x (1, 0, 0) y (0, 1, 0) z (0, 0, 1) at (0, 0, 0)
component "Left" placed x (1, 0, 0) y (0, 1, 0) z (0, 0, 1) at (0, 0, 0)
component "Right" placed x (1, 0, 0) y (0, 1, 0) z (0, 0, 1) at (0, 0, 0)
component "Front" placed x (1, 0, 0) y (0, 1, 0) z (0, 0, 1) at (0, 0, 0)
component "Back" placed x (1, 0, 0) y (0, 1, 0) z (0, 0, 1) at (0, 0, 0)
component "Top" placed x (1, 0, 0) y (0, 1, 0) z (0, 0, 1) at (0, 0, 0)
equation "paddingLength = 5 mm"
equation "filletRadius = 5 mm"
equation "mountingHoleDiameter = 3.2 mm"
equation "d4 = 60 mm + 2 * paddingLength"
equation "d5 = 50 mm + 2 * paddingLength"
equation "d7 = 3 mm + paddingLength"
equation "d8 = 3 mm + paddingLength"
equation "d9 = filletRadius"
equation "d10 = paddingLength"
equation "thickness = 2 mm"
equation "tabLength = 10 mm"
equation "tabWidth = 2 mm"
equation "d16 = tabWidth"
equation "d17 = tabLength"
equation "d22 = tabLength / 2"
equation "d24 = tabLength * 1.2"
equation "d25 = tabWidth"
equation "d27 = ( tabLength * 1.2 ) / 2"
equation "d28 = thickness"
equation "d30 = 3.7 mm + 1.6 mm + 3.8 mm + 1.2 mm"
equation "d31 = tabWidth"
equation "d33 = tabWidth"
equation "d35 = tabWidth"
equation "d39 = tabWidth"
equation "d48 = thickness"
